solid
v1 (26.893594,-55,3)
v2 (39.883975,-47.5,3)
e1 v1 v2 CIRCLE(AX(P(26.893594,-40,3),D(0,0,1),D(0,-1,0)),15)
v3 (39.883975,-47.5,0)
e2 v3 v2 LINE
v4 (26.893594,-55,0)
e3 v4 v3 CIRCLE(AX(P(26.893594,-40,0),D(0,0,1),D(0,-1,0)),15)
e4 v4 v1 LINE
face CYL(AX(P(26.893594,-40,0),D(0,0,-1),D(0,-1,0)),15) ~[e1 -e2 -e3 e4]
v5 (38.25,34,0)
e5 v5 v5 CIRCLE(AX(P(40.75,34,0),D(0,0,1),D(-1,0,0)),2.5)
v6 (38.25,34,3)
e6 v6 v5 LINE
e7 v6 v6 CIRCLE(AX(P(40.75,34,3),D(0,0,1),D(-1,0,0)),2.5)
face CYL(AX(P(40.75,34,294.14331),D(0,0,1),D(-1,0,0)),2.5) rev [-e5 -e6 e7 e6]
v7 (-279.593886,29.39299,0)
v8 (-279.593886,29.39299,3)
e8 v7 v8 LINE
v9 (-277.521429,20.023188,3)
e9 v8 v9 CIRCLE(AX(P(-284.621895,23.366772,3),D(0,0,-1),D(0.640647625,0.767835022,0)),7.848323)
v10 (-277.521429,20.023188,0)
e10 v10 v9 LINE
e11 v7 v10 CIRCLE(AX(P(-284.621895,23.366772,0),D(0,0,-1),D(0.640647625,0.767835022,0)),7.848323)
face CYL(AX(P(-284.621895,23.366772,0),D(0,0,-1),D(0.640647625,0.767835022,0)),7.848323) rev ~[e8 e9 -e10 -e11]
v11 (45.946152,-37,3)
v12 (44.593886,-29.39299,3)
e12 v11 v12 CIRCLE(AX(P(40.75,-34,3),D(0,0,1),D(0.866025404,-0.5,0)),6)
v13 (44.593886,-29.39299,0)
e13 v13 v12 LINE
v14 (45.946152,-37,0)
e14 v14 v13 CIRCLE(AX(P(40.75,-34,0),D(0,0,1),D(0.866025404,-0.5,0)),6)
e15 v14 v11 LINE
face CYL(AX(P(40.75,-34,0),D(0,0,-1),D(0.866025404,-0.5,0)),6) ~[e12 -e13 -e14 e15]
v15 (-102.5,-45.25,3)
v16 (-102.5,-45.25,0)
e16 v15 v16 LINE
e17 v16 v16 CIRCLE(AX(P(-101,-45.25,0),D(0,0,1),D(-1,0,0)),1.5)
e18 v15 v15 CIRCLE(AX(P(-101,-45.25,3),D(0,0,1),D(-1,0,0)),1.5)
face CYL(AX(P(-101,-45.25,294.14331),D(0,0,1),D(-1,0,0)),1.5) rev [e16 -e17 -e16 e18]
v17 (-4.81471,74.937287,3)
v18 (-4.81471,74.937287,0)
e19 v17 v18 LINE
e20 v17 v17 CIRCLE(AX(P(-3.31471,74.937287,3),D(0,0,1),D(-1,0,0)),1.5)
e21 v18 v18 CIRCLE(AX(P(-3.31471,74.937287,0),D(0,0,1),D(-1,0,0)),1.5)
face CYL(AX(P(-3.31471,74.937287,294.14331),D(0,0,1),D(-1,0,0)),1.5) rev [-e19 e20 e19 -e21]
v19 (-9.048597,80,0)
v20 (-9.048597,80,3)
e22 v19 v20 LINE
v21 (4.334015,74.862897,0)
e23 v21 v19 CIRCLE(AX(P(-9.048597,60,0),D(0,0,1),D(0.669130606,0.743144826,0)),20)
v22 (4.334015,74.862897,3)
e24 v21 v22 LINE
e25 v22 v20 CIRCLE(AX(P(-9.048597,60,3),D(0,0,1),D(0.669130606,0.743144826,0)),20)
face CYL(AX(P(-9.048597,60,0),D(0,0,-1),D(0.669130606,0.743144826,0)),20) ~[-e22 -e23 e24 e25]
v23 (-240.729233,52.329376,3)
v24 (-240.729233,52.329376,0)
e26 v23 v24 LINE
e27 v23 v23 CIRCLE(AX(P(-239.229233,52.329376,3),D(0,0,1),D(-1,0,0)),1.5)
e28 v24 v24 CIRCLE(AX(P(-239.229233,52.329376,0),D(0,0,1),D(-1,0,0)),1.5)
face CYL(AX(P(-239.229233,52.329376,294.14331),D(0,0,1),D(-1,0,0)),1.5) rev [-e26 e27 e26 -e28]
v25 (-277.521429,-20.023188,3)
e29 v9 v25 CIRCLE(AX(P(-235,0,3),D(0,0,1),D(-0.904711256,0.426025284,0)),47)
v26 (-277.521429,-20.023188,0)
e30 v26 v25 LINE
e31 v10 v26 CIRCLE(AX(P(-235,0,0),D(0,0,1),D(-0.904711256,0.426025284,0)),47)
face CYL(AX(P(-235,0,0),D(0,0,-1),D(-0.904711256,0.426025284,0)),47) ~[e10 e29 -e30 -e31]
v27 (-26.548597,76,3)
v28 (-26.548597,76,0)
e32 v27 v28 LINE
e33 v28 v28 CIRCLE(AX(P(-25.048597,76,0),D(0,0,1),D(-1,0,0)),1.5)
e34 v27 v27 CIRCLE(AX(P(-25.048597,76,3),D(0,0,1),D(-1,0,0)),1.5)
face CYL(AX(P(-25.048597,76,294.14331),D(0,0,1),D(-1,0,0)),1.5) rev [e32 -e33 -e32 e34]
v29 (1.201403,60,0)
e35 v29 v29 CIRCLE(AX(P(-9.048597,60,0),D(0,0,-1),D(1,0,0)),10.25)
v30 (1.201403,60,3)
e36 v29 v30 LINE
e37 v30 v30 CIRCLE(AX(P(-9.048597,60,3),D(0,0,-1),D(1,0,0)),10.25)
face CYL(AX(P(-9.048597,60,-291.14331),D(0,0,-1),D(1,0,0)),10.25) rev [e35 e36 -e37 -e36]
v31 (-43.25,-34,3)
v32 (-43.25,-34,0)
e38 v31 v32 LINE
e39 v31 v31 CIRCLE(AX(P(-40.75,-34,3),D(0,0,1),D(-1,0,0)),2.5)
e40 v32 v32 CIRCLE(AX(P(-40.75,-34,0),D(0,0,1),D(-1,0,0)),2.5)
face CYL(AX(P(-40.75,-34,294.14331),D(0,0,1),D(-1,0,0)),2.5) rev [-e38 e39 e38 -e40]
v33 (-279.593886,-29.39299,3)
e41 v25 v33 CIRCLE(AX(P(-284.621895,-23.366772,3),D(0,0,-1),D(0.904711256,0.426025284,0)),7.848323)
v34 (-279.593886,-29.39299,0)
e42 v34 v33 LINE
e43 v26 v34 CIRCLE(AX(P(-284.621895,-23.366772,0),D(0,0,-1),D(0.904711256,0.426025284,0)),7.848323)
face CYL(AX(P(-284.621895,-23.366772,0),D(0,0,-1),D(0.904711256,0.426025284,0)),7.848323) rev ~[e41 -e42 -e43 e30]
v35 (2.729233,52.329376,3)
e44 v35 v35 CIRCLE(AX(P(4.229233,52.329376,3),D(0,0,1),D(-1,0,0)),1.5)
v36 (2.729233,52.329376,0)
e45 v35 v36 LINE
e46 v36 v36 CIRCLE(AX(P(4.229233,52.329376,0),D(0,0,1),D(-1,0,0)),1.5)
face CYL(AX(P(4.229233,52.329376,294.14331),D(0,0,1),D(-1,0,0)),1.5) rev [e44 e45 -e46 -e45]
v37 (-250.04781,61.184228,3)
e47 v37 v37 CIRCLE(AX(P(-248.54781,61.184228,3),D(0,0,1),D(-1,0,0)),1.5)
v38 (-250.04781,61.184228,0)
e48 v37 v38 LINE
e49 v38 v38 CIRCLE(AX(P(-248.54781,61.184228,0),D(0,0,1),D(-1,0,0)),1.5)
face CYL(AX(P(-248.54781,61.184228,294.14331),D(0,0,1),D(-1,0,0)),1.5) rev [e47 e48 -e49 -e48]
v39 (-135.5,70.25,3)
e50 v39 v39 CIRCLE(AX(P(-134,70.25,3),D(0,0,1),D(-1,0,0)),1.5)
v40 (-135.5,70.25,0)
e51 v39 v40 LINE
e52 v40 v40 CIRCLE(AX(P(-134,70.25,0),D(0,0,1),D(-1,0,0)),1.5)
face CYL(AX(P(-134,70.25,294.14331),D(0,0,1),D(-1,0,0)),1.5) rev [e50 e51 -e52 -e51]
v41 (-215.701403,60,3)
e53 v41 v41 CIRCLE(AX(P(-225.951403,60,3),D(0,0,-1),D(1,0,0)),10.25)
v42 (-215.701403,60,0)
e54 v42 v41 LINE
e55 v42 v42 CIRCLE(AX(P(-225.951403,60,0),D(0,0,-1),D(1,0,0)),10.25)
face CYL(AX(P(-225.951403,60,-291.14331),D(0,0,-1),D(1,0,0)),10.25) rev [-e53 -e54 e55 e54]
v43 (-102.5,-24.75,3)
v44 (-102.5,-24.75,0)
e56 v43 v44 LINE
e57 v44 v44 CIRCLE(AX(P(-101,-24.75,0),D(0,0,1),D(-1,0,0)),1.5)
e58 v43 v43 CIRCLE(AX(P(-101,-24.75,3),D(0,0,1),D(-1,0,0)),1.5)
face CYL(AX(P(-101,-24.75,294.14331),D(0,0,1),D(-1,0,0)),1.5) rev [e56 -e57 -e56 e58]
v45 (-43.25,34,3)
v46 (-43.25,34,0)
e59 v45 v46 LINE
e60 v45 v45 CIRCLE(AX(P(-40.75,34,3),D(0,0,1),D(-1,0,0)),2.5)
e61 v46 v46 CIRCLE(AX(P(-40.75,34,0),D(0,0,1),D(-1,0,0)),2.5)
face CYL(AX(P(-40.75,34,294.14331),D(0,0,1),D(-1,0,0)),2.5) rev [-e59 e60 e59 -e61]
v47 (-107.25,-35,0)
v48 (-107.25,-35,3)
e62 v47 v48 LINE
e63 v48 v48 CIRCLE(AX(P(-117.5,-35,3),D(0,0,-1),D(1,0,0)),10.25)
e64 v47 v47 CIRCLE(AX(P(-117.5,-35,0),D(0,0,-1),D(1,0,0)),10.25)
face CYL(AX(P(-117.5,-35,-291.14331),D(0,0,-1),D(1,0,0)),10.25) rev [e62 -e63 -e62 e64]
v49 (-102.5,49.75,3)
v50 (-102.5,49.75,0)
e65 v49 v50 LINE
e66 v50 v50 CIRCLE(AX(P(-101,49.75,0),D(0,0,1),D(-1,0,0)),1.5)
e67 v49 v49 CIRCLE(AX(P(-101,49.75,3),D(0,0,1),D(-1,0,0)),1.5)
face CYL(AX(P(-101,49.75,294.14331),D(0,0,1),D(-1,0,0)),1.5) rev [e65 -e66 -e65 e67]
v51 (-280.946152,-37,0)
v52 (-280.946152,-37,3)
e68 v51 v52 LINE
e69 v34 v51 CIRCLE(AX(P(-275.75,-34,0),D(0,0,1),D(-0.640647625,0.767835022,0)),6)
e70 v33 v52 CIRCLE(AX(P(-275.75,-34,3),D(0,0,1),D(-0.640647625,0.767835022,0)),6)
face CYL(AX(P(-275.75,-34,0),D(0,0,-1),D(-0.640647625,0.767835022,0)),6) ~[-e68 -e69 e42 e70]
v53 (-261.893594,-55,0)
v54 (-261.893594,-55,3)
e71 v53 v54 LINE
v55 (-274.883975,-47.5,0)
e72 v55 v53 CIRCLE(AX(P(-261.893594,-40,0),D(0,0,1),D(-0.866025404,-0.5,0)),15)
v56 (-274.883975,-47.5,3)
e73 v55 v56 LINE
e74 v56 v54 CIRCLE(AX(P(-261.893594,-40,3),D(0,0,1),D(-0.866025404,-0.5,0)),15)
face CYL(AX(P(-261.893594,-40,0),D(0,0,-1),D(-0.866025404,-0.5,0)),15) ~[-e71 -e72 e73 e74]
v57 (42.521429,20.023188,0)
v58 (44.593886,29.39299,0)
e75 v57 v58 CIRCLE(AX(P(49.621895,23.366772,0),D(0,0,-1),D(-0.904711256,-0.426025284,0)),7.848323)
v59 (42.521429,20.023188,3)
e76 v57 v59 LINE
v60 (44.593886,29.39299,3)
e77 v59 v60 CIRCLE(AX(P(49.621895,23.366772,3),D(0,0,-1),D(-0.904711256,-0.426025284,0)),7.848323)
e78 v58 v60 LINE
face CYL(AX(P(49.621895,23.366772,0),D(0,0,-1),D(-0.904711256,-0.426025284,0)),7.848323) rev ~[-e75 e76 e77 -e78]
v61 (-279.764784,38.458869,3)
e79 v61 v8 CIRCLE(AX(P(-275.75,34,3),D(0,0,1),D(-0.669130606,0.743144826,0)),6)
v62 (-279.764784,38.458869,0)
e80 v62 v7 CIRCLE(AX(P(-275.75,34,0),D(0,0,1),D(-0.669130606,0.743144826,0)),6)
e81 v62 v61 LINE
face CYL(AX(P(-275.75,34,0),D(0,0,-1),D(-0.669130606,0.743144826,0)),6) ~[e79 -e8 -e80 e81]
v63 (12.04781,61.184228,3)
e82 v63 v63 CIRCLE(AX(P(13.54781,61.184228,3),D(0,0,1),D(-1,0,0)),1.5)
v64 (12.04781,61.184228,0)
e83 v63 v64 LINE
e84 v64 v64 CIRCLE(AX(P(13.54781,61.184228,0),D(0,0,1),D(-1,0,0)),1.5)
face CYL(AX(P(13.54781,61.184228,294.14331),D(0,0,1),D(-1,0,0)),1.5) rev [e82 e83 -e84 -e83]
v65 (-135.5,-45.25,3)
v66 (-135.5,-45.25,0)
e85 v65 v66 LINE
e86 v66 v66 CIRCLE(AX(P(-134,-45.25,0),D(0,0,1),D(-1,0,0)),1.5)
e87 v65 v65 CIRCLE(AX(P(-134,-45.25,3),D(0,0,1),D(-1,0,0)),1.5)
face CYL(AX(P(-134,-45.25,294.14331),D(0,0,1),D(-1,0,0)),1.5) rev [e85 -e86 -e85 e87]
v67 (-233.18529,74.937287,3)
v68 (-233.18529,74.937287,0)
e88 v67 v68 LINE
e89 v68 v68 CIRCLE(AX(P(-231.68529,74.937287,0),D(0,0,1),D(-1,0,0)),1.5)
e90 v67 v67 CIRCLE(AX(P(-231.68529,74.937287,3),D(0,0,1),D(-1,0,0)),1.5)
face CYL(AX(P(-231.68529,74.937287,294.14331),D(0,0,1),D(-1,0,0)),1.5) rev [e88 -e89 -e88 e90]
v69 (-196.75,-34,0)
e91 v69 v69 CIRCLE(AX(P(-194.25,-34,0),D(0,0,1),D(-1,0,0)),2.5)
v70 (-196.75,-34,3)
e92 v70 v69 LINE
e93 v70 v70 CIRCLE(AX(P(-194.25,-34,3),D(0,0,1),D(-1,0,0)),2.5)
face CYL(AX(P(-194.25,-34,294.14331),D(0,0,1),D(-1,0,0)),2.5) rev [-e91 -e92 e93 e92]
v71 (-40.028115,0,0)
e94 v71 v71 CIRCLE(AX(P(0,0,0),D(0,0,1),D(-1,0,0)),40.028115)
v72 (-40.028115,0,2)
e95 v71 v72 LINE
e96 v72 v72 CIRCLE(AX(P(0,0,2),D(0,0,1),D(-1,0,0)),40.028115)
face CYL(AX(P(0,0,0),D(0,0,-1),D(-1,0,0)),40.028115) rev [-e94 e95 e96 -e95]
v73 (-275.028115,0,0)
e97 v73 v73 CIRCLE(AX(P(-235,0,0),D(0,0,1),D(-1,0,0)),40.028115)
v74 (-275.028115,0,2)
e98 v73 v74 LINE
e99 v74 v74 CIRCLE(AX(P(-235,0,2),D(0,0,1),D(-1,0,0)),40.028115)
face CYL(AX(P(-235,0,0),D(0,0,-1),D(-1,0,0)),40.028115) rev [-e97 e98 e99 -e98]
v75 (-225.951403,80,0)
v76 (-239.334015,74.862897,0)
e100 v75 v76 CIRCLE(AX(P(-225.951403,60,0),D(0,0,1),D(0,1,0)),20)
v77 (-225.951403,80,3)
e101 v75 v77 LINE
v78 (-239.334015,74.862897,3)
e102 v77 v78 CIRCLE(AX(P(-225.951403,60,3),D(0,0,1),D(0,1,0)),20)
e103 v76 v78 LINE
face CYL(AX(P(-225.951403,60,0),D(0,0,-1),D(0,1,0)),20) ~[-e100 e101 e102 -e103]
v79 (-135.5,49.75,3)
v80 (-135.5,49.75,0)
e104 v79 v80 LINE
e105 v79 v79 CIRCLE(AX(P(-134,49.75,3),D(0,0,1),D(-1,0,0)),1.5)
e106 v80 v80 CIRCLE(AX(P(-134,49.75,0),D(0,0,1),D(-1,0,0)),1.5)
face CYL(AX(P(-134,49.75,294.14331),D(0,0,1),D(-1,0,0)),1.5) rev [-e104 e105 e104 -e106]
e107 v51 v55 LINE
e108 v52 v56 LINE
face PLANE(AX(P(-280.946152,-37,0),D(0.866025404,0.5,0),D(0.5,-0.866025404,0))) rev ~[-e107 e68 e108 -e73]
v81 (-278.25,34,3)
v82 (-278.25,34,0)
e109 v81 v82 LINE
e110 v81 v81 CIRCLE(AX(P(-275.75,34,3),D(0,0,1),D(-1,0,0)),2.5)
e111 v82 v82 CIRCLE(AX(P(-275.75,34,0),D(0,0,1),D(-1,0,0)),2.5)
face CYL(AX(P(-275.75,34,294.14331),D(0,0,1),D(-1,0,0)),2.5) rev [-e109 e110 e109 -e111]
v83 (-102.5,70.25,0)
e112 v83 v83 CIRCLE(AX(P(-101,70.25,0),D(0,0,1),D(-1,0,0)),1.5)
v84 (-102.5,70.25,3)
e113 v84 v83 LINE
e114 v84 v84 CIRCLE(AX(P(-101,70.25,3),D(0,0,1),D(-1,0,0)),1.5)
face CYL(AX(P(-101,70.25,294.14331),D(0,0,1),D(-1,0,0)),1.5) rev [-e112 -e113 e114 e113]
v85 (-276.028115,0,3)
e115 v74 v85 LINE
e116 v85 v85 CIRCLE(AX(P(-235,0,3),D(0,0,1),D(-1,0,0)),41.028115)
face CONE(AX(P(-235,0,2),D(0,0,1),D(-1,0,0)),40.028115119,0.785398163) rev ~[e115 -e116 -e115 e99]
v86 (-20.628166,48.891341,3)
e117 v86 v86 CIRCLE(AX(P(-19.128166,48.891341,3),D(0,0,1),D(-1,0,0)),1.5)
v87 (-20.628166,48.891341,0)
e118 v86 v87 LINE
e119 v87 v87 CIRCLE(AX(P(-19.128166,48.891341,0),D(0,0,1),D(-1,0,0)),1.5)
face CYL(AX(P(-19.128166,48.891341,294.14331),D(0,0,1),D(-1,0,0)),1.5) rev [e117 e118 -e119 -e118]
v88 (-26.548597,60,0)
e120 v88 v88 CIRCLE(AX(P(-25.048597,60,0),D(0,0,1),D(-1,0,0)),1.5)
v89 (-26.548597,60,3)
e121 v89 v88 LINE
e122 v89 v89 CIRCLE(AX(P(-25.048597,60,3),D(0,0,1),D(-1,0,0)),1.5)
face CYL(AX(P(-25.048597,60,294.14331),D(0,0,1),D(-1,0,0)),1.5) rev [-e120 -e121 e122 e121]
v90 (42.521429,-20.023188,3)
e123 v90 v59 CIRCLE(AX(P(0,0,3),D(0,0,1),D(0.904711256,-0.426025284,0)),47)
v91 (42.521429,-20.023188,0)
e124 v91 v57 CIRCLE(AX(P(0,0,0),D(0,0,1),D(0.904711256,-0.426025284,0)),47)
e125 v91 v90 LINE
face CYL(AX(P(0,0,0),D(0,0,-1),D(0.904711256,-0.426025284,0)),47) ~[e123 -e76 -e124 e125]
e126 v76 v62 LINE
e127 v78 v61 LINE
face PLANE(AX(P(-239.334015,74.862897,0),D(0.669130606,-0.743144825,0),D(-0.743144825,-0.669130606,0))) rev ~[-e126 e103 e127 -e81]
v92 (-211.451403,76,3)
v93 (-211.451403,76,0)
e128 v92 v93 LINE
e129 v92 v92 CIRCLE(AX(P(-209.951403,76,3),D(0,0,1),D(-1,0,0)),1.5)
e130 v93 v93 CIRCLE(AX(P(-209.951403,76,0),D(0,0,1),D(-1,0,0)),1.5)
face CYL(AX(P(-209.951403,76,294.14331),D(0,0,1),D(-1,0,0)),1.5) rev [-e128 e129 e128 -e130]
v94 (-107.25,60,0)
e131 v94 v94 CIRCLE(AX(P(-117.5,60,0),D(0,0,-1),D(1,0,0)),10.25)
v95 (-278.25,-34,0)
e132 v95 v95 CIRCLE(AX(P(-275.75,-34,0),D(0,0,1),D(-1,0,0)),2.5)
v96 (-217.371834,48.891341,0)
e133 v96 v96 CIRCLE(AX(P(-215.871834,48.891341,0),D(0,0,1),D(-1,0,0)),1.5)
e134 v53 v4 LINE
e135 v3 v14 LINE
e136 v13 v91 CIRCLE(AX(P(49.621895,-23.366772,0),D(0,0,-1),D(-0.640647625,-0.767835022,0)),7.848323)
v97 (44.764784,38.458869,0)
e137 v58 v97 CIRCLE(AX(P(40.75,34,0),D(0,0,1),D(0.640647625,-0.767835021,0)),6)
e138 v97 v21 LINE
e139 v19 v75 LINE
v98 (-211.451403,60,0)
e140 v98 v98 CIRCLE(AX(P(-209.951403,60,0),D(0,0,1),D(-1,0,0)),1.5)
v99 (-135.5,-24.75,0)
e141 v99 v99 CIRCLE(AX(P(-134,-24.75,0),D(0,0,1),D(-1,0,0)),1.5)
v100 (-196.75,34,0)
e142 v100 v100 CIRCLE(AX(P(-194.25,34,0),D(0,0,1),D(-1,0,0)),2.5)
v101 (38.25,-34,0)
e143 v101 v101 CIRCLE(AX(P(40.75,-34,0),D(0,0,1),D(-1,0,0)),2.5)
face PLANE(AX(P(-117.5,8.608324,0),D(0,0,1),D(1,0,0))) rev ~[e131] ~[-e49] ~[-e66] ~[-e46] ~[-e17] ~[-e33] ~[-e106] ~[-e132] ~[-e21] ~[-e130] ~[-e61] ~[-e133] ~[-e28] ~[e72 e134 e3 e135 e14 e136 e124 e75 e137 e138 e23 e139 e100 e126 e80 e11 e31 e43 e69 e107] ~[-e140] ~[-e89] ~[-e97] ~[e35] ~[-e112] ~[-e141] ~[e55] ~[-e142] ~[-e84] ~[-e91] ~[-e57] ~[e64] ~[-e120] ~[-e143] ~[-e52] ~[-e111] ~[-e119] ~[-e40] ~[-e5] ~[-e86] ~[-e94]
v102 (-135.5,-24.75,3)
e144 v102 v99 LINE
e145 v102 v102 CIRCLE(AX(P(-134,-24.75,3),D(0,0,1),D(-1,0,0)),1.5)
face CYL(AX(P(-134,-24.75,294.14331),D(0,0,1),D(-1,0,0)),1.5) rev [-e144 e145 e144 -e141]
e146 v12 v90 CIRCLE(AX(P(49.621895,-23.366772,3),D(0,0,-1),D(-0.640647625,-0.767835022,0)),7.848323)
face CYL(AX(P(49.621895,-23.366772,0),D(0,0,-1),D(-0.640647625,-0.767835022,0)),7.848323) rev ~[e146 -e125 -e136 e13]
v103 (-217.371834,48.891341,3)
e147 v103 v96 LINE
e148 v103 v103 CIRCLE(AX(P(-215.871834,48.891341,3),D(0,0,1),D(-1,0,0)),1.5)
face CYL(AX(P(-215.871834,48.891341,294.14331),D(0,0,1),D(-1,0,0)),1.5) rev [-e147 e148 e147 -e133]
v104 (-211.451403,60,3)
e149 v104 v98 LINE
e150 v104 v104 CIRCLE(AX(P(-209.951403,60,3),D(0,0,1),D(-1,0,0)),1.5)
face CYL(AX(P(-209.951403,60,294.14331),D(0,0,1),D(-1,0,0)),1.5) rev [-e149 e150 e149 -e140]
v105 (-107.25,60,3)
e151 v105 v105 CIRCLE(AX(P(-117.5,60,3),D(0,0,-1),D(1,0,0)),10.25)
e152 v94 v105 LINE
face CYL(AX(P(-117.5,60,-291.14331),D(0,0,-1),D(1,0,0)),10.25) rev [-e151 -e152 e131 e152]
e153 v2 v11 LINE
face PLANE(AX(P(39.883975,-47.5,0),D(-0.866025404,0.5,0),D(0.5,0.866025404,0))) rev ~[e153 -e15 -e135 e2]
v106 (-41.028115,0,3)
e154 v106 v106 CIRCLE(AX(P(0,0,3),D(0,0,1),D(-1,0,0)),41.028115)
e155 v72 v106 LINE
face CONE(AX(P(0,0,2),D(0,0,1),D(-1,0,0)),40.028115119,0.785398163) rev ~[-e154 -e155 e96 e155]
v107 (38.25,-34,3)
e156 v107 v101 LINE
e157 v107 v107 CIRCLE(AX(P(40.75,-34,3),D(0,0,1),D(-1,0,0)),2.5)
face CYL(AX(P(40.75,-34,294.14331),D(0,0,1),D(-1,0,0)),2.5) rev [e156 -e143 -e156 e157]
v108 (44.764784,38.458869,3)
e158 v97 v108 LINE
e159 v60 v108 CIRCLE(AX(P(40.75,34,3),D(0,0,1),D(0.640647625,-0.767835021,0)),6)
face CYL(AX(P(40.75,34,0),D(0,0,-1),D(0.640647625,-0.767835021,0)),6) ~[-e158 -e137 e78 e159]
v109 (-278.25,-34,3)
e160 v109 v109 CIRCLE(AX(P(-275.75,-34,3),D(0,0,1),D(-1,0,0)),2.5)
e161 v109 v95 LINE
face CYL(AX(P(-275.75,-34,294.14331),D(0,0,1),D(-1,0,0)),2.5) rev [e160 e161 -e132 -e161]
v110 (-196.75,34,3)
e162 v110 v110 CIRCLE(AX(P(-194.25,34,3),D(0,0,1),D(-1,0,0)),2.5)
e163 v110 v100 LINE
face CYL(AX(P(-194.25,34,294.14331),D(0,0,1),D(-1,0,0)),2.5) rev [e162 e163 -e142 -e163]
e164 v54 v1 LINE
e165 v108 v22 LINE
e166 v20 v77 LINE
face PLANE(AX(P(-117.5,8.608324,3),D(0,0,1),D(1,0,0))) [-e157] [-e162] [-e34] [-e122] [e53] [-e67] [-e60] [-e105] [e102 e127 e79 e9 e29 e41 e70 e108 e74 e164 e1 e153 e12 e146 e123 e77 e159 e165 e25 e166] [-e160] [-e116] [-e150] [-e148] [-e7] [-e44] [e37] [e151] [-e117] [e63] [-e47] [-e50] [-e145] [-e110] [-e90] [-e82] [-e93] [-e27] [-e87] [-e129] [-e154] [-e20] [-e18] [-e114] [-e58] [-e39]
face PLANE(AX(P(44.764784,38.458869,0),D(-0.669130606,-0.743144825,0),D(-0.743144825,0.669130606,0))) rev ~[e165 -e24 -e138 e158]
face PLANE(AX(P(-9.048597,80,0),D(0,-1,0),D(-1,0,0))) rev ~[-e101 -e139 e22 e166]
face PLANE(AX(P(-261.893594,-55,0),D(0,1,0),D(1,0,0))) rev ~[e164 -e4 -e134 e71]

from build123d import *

# Parameters (mm, degrees)
SKETCH_1_R               = 40.028115119
EXTRUDE_1_DEPTH          = 3
CHAMFER_1_SIZE           = 1
CUT_EXTRUDE_1_DEPTH      = 294.143309663
CUT_EXTRUDE_1_DEPTH_BACK = 294.143309663
SKETCH_2_R               = 2.5
CUT_EXTRUDE_2_DEPTH      = 294.143309663
CUT_EXTRUDE_2_DEPTH_BACK = 294.143309663
SKETCH_3_R               = 10.25
CUT_EXTRUDE_3_DEPTH      = 294.143309663
CUT_EXTRUDE_3_DEPTH_BACK = 294.143309663
SKETCH_4_R               = 1.5
CUT_EXTRUDE_4_DEPTH      = 294.143309663
CUT_EXTRUDE_4_DEPTH_BACK = 294.143309663
SKETCH_5_R               = 1.5
CUT_EXTRUDE_5_DEPTH      = 294.143309663
CUT_EXTRUDE_5_DEPTH_BACK = 294.143309663
SKETCH_6_R               = 1.5


with BuildPart() as part:
    # 草图1 → 凸台-拉伸1 (new body)
    with BuildSketch(Plane.XY):
        with BuildLine():
            Line((44.764783638, 38.458868953), (4.334015044, 74.86289651))
            ThreePointArc((4.334015044, 74.86289651), (-1.881238093, 78.67160853), (-9.048597084, 80))
            Line((-9.048597084, 80), (-225.951402916, 80))
            ThreePointArc((-225.951402916, 80), (-233.118761907, 78.67160853), (-239.334015044, 74.86289651))
            Line((-239.334015044, 74.86289651), (-279.764783638, 38.458868953))
            ThreePointArc((-279.764783638, 38.458868953), (-281.748934241, 33.886916076), (-279.593885752, 29.392989871))
            ThreePointArc((-279.593885752, 29.392989871), (-276.958783906, 25.06173547), (-277.521429039, 20.023188369))
            ThreePointArc((-277.521429039, 20.023188369), (-282, 0), (-277.521429039, -20.023188369))
            ThreePointArc((-277.521429039, -20.023188369), (-276.958783906, -25.06173547), (-279.593885752, -29.392989871))
            ThreePointArc((-279.593885752, -29.392989871), (-281.657387183, -32.949868258), (-280.946152423, -37))
            Line((-280.946152423, -37), (-274.883974596, -47.5))
            ThreePointArc((-274.883974596, -47.5), (-269.393593539, -52.990381057), (-261.893593539, -55))
            Line((-261.893593539, -55), (26.893593539, -55))
            ThreePointArc((26.893593539, -55), (34.393593539, -52.990381057), (39.883974596, -47.5))
            Line((39.883974596, -47.5), (45.946152423, -37))
            ThreePointArc((45.946152423, -37), (46.657387183, -32.949868258), (44.593885752, -29.392989871))
            ThreePointArc((44.593885752, -29.392989871), (41.958783906, -25.06173547), (42.521429039, -20.023188369))
            ThreePointArc((42.521429039, -20.023188369), (47, 0), (42.521429039, 20.023188369))
            ThreePointArc((42.521429039, 20.023188369), (41.958783906, 25.06173547), (44.593885752, 29.392989871))
            ThreePointArc((44.593885752, 29.392989871), (46.748934241, 33.886916076), (44.764783638, 38.458868953))
        make_face()
        with Locations(Location((0, 0, 0), (0, 0, 180))):
            Circle(SKETCH_1_R, mode=Mode.SUBTRACT)
        with Locations(Location((-235, 0, 0), (0, 0, 180))):
            Circle(SKETCH_1_R, mode=Mode.SUBTRACT)
    extrude(amount=EXTRUDE_1_DEPTH)

    # 倒角1
    chamfer_1_edges = [part.edges().sort_by_distance(p)[0] for p in [
        (40.028115119, 0, 3),
        (-194.971884881, 0, 3),
    ]]
    chamfer(chamfer_1_edges, length=CHAMFER_1_SIZE)

    # 草图2 → 切除-拉伸1 (cut, two sides: drawn at the far end of the back side and taken through both)
    with BuildSketch(Plane(origin=(0, 0, 0), x_dir=(-1, 0, 0), z_dir=(0, 0, -1)).offset(-CUT_EXTRUDE_1_DEPTH_BACK)):
        with Locations((40.75, -34)):
            Circle(SKETCH_2_R)
        with Locations((40.75, 34)):
            Circle(SKETCH_2_R)
        with Locations((-40.75, 34)):
            Circle(SKETCH_2_R)
        with Locations((-40.75, -34)):
            Circle(SKETCH_2_R)
        with Locations((275.75, -34)):
            Circle(SKETCH_2_R)
        with Locations((275.75, 34)):
            Circle(SKETCH_2_R)
        with Locations((194.25, 34)):
            Circle(SKETCH_2_R)
        with Locations((194.25, -34)):
            Circle(SKETCH_2_R)
    extrude(amount=CUT_EXTRUDE_1_DEPTH + CUT_EXTRUDE_1_DEPTH_BACK, mode=Mode.SUBTRACT)

    # 草图3 → 切除-拉伸2 (cut, two sides: drawn at the far end of the back side and taken through both)
    with BuildSketch(Plane.XY.offset(3).offset(-CUT_EXTRUDE_2_DEPTH_BACK)):
        with Locations((-117.5, -35)):
            Circle(SKETCH_3_R)
        with Locations((-225.951402916, 60)):
            Circle(SKETCH_3_R)
        with Locations((-117.5, 60)):
            Circle(SKETCH_3_R)
        with Locations((-9.048597084, 60)):
            Circle(SKETCH_3_R)
    extrude(amount=CUT_EXTRUDE_2_DEPTH + CUT_EXTRUDE_2_DEPTH_BACK, mode=Mode.SUBTRACT)

    # 草图4 → 切除-拉伸3 (cut, two sides: drawn at the far end of the back side and taken through both)
    with BuildSketch(Plane(origin=(0, 0, 0), x_dir=(-1, 0, 0), z_dir=(0, 0, -1)).offset(-CUT_EXTRUDE_3_DEPTH_BACK)):
        with Locations((134, -24.75)):
            Circle(SKETCH_4_R)
        with Locations((134, -45.25)):
            Circle(SKETCH_4_R)
        with Locations((101, -45.25)):
            Circle(SKETCH_4_R)
        with Locations((101, -24.75)):
            Circle(SKETCH_4_R)
    extrude(amount=CUT_EXTRUDE_3_DEPTH + CUT_EXTRUDE_3_DEPTH_BACK, mode=Mode.SUBTRACT)

    # 草图5 → 切除-拉伸4 (cut, two sides: drawn at the far end of the back side and taken through both)
    with BuildSketch(Plane(origin=(0, 0, 0), x_dir=(-1, 0, 0), z_dir=(0, 0, -1)).offset(-CUT_EXTRUDE_4_DEPTH_BACK)):
        with Locations((19.128165824, 48.891341485)):
            Circle(SKETCH_5_R)
        with Locations((25.048597084, 60)):
            Circle(SKETCH_5_R)
        with Locations((25.048597084, 76)):
            Circle(SKETCH_5_R)
        with Locations((3.314709891, 74.937286824)):
            Circle(SKETCH_5_R)
        with Locations((-13.547809826, 61.184227506)):
            Circle(SKETCH_5_R)
        with Locations((-4.229232955, 52.329375962)):
            Circle(SKETCH_5_R)
        with Locations((209.951402916, 60)):
            Circle(SKETCH_5_R)
        with Locations((215.871834176, 48.891341485)):
            Circle(SKETCH_5_R)
        with Locations((239.229232955, 52.329375962)):
            Circle(SKETCH_5_R)
        with Locations((248.547809826, 61.184227506)):
            Circle(SKETCH_5_R)
        with Locations((209.951402916, 76)):
            Circle(SKETCH_5_R)
        with Locations((231.685290109, 74.937286824)):
            Circle(SKETCH_5_R)
    extrude(amount=CUT_EXTRUDE_4_DEPTH + CUT_EXTRUDE_4_DEPTH_BACK, mode=Mode.SUBTRACT)

    # 草图6 → 切除-拉伸5 (cut, two sides: drawn at the far end of the back side and taken through both)
    with BuildSketch(Plane(origin=(0, 0, 0), x_dir=(-1, 0, 0), z_dir=(0, 0, -1)).offset(-CUT_EXTRUDE_5_DEPTH_BACK)):
        with Locations((134, 70.25)):
            Circle(SKETCH_6_R)
        with Locations((134, 49.75)):
            Circle(SKETCH_6_R)
        with Locations((101, 70.25)):
            Circle(SKETCH_6_R)
        with Locations((101, 49.75)):
            Circle(SKETCH_6_R)
    extrude(amount=CUT_EXTRUDE_5_DEPTH + CUT_EXTRUDE_5_DEPTH_BACK, mode=Mode.SUBTRACT)


solid = part.part
